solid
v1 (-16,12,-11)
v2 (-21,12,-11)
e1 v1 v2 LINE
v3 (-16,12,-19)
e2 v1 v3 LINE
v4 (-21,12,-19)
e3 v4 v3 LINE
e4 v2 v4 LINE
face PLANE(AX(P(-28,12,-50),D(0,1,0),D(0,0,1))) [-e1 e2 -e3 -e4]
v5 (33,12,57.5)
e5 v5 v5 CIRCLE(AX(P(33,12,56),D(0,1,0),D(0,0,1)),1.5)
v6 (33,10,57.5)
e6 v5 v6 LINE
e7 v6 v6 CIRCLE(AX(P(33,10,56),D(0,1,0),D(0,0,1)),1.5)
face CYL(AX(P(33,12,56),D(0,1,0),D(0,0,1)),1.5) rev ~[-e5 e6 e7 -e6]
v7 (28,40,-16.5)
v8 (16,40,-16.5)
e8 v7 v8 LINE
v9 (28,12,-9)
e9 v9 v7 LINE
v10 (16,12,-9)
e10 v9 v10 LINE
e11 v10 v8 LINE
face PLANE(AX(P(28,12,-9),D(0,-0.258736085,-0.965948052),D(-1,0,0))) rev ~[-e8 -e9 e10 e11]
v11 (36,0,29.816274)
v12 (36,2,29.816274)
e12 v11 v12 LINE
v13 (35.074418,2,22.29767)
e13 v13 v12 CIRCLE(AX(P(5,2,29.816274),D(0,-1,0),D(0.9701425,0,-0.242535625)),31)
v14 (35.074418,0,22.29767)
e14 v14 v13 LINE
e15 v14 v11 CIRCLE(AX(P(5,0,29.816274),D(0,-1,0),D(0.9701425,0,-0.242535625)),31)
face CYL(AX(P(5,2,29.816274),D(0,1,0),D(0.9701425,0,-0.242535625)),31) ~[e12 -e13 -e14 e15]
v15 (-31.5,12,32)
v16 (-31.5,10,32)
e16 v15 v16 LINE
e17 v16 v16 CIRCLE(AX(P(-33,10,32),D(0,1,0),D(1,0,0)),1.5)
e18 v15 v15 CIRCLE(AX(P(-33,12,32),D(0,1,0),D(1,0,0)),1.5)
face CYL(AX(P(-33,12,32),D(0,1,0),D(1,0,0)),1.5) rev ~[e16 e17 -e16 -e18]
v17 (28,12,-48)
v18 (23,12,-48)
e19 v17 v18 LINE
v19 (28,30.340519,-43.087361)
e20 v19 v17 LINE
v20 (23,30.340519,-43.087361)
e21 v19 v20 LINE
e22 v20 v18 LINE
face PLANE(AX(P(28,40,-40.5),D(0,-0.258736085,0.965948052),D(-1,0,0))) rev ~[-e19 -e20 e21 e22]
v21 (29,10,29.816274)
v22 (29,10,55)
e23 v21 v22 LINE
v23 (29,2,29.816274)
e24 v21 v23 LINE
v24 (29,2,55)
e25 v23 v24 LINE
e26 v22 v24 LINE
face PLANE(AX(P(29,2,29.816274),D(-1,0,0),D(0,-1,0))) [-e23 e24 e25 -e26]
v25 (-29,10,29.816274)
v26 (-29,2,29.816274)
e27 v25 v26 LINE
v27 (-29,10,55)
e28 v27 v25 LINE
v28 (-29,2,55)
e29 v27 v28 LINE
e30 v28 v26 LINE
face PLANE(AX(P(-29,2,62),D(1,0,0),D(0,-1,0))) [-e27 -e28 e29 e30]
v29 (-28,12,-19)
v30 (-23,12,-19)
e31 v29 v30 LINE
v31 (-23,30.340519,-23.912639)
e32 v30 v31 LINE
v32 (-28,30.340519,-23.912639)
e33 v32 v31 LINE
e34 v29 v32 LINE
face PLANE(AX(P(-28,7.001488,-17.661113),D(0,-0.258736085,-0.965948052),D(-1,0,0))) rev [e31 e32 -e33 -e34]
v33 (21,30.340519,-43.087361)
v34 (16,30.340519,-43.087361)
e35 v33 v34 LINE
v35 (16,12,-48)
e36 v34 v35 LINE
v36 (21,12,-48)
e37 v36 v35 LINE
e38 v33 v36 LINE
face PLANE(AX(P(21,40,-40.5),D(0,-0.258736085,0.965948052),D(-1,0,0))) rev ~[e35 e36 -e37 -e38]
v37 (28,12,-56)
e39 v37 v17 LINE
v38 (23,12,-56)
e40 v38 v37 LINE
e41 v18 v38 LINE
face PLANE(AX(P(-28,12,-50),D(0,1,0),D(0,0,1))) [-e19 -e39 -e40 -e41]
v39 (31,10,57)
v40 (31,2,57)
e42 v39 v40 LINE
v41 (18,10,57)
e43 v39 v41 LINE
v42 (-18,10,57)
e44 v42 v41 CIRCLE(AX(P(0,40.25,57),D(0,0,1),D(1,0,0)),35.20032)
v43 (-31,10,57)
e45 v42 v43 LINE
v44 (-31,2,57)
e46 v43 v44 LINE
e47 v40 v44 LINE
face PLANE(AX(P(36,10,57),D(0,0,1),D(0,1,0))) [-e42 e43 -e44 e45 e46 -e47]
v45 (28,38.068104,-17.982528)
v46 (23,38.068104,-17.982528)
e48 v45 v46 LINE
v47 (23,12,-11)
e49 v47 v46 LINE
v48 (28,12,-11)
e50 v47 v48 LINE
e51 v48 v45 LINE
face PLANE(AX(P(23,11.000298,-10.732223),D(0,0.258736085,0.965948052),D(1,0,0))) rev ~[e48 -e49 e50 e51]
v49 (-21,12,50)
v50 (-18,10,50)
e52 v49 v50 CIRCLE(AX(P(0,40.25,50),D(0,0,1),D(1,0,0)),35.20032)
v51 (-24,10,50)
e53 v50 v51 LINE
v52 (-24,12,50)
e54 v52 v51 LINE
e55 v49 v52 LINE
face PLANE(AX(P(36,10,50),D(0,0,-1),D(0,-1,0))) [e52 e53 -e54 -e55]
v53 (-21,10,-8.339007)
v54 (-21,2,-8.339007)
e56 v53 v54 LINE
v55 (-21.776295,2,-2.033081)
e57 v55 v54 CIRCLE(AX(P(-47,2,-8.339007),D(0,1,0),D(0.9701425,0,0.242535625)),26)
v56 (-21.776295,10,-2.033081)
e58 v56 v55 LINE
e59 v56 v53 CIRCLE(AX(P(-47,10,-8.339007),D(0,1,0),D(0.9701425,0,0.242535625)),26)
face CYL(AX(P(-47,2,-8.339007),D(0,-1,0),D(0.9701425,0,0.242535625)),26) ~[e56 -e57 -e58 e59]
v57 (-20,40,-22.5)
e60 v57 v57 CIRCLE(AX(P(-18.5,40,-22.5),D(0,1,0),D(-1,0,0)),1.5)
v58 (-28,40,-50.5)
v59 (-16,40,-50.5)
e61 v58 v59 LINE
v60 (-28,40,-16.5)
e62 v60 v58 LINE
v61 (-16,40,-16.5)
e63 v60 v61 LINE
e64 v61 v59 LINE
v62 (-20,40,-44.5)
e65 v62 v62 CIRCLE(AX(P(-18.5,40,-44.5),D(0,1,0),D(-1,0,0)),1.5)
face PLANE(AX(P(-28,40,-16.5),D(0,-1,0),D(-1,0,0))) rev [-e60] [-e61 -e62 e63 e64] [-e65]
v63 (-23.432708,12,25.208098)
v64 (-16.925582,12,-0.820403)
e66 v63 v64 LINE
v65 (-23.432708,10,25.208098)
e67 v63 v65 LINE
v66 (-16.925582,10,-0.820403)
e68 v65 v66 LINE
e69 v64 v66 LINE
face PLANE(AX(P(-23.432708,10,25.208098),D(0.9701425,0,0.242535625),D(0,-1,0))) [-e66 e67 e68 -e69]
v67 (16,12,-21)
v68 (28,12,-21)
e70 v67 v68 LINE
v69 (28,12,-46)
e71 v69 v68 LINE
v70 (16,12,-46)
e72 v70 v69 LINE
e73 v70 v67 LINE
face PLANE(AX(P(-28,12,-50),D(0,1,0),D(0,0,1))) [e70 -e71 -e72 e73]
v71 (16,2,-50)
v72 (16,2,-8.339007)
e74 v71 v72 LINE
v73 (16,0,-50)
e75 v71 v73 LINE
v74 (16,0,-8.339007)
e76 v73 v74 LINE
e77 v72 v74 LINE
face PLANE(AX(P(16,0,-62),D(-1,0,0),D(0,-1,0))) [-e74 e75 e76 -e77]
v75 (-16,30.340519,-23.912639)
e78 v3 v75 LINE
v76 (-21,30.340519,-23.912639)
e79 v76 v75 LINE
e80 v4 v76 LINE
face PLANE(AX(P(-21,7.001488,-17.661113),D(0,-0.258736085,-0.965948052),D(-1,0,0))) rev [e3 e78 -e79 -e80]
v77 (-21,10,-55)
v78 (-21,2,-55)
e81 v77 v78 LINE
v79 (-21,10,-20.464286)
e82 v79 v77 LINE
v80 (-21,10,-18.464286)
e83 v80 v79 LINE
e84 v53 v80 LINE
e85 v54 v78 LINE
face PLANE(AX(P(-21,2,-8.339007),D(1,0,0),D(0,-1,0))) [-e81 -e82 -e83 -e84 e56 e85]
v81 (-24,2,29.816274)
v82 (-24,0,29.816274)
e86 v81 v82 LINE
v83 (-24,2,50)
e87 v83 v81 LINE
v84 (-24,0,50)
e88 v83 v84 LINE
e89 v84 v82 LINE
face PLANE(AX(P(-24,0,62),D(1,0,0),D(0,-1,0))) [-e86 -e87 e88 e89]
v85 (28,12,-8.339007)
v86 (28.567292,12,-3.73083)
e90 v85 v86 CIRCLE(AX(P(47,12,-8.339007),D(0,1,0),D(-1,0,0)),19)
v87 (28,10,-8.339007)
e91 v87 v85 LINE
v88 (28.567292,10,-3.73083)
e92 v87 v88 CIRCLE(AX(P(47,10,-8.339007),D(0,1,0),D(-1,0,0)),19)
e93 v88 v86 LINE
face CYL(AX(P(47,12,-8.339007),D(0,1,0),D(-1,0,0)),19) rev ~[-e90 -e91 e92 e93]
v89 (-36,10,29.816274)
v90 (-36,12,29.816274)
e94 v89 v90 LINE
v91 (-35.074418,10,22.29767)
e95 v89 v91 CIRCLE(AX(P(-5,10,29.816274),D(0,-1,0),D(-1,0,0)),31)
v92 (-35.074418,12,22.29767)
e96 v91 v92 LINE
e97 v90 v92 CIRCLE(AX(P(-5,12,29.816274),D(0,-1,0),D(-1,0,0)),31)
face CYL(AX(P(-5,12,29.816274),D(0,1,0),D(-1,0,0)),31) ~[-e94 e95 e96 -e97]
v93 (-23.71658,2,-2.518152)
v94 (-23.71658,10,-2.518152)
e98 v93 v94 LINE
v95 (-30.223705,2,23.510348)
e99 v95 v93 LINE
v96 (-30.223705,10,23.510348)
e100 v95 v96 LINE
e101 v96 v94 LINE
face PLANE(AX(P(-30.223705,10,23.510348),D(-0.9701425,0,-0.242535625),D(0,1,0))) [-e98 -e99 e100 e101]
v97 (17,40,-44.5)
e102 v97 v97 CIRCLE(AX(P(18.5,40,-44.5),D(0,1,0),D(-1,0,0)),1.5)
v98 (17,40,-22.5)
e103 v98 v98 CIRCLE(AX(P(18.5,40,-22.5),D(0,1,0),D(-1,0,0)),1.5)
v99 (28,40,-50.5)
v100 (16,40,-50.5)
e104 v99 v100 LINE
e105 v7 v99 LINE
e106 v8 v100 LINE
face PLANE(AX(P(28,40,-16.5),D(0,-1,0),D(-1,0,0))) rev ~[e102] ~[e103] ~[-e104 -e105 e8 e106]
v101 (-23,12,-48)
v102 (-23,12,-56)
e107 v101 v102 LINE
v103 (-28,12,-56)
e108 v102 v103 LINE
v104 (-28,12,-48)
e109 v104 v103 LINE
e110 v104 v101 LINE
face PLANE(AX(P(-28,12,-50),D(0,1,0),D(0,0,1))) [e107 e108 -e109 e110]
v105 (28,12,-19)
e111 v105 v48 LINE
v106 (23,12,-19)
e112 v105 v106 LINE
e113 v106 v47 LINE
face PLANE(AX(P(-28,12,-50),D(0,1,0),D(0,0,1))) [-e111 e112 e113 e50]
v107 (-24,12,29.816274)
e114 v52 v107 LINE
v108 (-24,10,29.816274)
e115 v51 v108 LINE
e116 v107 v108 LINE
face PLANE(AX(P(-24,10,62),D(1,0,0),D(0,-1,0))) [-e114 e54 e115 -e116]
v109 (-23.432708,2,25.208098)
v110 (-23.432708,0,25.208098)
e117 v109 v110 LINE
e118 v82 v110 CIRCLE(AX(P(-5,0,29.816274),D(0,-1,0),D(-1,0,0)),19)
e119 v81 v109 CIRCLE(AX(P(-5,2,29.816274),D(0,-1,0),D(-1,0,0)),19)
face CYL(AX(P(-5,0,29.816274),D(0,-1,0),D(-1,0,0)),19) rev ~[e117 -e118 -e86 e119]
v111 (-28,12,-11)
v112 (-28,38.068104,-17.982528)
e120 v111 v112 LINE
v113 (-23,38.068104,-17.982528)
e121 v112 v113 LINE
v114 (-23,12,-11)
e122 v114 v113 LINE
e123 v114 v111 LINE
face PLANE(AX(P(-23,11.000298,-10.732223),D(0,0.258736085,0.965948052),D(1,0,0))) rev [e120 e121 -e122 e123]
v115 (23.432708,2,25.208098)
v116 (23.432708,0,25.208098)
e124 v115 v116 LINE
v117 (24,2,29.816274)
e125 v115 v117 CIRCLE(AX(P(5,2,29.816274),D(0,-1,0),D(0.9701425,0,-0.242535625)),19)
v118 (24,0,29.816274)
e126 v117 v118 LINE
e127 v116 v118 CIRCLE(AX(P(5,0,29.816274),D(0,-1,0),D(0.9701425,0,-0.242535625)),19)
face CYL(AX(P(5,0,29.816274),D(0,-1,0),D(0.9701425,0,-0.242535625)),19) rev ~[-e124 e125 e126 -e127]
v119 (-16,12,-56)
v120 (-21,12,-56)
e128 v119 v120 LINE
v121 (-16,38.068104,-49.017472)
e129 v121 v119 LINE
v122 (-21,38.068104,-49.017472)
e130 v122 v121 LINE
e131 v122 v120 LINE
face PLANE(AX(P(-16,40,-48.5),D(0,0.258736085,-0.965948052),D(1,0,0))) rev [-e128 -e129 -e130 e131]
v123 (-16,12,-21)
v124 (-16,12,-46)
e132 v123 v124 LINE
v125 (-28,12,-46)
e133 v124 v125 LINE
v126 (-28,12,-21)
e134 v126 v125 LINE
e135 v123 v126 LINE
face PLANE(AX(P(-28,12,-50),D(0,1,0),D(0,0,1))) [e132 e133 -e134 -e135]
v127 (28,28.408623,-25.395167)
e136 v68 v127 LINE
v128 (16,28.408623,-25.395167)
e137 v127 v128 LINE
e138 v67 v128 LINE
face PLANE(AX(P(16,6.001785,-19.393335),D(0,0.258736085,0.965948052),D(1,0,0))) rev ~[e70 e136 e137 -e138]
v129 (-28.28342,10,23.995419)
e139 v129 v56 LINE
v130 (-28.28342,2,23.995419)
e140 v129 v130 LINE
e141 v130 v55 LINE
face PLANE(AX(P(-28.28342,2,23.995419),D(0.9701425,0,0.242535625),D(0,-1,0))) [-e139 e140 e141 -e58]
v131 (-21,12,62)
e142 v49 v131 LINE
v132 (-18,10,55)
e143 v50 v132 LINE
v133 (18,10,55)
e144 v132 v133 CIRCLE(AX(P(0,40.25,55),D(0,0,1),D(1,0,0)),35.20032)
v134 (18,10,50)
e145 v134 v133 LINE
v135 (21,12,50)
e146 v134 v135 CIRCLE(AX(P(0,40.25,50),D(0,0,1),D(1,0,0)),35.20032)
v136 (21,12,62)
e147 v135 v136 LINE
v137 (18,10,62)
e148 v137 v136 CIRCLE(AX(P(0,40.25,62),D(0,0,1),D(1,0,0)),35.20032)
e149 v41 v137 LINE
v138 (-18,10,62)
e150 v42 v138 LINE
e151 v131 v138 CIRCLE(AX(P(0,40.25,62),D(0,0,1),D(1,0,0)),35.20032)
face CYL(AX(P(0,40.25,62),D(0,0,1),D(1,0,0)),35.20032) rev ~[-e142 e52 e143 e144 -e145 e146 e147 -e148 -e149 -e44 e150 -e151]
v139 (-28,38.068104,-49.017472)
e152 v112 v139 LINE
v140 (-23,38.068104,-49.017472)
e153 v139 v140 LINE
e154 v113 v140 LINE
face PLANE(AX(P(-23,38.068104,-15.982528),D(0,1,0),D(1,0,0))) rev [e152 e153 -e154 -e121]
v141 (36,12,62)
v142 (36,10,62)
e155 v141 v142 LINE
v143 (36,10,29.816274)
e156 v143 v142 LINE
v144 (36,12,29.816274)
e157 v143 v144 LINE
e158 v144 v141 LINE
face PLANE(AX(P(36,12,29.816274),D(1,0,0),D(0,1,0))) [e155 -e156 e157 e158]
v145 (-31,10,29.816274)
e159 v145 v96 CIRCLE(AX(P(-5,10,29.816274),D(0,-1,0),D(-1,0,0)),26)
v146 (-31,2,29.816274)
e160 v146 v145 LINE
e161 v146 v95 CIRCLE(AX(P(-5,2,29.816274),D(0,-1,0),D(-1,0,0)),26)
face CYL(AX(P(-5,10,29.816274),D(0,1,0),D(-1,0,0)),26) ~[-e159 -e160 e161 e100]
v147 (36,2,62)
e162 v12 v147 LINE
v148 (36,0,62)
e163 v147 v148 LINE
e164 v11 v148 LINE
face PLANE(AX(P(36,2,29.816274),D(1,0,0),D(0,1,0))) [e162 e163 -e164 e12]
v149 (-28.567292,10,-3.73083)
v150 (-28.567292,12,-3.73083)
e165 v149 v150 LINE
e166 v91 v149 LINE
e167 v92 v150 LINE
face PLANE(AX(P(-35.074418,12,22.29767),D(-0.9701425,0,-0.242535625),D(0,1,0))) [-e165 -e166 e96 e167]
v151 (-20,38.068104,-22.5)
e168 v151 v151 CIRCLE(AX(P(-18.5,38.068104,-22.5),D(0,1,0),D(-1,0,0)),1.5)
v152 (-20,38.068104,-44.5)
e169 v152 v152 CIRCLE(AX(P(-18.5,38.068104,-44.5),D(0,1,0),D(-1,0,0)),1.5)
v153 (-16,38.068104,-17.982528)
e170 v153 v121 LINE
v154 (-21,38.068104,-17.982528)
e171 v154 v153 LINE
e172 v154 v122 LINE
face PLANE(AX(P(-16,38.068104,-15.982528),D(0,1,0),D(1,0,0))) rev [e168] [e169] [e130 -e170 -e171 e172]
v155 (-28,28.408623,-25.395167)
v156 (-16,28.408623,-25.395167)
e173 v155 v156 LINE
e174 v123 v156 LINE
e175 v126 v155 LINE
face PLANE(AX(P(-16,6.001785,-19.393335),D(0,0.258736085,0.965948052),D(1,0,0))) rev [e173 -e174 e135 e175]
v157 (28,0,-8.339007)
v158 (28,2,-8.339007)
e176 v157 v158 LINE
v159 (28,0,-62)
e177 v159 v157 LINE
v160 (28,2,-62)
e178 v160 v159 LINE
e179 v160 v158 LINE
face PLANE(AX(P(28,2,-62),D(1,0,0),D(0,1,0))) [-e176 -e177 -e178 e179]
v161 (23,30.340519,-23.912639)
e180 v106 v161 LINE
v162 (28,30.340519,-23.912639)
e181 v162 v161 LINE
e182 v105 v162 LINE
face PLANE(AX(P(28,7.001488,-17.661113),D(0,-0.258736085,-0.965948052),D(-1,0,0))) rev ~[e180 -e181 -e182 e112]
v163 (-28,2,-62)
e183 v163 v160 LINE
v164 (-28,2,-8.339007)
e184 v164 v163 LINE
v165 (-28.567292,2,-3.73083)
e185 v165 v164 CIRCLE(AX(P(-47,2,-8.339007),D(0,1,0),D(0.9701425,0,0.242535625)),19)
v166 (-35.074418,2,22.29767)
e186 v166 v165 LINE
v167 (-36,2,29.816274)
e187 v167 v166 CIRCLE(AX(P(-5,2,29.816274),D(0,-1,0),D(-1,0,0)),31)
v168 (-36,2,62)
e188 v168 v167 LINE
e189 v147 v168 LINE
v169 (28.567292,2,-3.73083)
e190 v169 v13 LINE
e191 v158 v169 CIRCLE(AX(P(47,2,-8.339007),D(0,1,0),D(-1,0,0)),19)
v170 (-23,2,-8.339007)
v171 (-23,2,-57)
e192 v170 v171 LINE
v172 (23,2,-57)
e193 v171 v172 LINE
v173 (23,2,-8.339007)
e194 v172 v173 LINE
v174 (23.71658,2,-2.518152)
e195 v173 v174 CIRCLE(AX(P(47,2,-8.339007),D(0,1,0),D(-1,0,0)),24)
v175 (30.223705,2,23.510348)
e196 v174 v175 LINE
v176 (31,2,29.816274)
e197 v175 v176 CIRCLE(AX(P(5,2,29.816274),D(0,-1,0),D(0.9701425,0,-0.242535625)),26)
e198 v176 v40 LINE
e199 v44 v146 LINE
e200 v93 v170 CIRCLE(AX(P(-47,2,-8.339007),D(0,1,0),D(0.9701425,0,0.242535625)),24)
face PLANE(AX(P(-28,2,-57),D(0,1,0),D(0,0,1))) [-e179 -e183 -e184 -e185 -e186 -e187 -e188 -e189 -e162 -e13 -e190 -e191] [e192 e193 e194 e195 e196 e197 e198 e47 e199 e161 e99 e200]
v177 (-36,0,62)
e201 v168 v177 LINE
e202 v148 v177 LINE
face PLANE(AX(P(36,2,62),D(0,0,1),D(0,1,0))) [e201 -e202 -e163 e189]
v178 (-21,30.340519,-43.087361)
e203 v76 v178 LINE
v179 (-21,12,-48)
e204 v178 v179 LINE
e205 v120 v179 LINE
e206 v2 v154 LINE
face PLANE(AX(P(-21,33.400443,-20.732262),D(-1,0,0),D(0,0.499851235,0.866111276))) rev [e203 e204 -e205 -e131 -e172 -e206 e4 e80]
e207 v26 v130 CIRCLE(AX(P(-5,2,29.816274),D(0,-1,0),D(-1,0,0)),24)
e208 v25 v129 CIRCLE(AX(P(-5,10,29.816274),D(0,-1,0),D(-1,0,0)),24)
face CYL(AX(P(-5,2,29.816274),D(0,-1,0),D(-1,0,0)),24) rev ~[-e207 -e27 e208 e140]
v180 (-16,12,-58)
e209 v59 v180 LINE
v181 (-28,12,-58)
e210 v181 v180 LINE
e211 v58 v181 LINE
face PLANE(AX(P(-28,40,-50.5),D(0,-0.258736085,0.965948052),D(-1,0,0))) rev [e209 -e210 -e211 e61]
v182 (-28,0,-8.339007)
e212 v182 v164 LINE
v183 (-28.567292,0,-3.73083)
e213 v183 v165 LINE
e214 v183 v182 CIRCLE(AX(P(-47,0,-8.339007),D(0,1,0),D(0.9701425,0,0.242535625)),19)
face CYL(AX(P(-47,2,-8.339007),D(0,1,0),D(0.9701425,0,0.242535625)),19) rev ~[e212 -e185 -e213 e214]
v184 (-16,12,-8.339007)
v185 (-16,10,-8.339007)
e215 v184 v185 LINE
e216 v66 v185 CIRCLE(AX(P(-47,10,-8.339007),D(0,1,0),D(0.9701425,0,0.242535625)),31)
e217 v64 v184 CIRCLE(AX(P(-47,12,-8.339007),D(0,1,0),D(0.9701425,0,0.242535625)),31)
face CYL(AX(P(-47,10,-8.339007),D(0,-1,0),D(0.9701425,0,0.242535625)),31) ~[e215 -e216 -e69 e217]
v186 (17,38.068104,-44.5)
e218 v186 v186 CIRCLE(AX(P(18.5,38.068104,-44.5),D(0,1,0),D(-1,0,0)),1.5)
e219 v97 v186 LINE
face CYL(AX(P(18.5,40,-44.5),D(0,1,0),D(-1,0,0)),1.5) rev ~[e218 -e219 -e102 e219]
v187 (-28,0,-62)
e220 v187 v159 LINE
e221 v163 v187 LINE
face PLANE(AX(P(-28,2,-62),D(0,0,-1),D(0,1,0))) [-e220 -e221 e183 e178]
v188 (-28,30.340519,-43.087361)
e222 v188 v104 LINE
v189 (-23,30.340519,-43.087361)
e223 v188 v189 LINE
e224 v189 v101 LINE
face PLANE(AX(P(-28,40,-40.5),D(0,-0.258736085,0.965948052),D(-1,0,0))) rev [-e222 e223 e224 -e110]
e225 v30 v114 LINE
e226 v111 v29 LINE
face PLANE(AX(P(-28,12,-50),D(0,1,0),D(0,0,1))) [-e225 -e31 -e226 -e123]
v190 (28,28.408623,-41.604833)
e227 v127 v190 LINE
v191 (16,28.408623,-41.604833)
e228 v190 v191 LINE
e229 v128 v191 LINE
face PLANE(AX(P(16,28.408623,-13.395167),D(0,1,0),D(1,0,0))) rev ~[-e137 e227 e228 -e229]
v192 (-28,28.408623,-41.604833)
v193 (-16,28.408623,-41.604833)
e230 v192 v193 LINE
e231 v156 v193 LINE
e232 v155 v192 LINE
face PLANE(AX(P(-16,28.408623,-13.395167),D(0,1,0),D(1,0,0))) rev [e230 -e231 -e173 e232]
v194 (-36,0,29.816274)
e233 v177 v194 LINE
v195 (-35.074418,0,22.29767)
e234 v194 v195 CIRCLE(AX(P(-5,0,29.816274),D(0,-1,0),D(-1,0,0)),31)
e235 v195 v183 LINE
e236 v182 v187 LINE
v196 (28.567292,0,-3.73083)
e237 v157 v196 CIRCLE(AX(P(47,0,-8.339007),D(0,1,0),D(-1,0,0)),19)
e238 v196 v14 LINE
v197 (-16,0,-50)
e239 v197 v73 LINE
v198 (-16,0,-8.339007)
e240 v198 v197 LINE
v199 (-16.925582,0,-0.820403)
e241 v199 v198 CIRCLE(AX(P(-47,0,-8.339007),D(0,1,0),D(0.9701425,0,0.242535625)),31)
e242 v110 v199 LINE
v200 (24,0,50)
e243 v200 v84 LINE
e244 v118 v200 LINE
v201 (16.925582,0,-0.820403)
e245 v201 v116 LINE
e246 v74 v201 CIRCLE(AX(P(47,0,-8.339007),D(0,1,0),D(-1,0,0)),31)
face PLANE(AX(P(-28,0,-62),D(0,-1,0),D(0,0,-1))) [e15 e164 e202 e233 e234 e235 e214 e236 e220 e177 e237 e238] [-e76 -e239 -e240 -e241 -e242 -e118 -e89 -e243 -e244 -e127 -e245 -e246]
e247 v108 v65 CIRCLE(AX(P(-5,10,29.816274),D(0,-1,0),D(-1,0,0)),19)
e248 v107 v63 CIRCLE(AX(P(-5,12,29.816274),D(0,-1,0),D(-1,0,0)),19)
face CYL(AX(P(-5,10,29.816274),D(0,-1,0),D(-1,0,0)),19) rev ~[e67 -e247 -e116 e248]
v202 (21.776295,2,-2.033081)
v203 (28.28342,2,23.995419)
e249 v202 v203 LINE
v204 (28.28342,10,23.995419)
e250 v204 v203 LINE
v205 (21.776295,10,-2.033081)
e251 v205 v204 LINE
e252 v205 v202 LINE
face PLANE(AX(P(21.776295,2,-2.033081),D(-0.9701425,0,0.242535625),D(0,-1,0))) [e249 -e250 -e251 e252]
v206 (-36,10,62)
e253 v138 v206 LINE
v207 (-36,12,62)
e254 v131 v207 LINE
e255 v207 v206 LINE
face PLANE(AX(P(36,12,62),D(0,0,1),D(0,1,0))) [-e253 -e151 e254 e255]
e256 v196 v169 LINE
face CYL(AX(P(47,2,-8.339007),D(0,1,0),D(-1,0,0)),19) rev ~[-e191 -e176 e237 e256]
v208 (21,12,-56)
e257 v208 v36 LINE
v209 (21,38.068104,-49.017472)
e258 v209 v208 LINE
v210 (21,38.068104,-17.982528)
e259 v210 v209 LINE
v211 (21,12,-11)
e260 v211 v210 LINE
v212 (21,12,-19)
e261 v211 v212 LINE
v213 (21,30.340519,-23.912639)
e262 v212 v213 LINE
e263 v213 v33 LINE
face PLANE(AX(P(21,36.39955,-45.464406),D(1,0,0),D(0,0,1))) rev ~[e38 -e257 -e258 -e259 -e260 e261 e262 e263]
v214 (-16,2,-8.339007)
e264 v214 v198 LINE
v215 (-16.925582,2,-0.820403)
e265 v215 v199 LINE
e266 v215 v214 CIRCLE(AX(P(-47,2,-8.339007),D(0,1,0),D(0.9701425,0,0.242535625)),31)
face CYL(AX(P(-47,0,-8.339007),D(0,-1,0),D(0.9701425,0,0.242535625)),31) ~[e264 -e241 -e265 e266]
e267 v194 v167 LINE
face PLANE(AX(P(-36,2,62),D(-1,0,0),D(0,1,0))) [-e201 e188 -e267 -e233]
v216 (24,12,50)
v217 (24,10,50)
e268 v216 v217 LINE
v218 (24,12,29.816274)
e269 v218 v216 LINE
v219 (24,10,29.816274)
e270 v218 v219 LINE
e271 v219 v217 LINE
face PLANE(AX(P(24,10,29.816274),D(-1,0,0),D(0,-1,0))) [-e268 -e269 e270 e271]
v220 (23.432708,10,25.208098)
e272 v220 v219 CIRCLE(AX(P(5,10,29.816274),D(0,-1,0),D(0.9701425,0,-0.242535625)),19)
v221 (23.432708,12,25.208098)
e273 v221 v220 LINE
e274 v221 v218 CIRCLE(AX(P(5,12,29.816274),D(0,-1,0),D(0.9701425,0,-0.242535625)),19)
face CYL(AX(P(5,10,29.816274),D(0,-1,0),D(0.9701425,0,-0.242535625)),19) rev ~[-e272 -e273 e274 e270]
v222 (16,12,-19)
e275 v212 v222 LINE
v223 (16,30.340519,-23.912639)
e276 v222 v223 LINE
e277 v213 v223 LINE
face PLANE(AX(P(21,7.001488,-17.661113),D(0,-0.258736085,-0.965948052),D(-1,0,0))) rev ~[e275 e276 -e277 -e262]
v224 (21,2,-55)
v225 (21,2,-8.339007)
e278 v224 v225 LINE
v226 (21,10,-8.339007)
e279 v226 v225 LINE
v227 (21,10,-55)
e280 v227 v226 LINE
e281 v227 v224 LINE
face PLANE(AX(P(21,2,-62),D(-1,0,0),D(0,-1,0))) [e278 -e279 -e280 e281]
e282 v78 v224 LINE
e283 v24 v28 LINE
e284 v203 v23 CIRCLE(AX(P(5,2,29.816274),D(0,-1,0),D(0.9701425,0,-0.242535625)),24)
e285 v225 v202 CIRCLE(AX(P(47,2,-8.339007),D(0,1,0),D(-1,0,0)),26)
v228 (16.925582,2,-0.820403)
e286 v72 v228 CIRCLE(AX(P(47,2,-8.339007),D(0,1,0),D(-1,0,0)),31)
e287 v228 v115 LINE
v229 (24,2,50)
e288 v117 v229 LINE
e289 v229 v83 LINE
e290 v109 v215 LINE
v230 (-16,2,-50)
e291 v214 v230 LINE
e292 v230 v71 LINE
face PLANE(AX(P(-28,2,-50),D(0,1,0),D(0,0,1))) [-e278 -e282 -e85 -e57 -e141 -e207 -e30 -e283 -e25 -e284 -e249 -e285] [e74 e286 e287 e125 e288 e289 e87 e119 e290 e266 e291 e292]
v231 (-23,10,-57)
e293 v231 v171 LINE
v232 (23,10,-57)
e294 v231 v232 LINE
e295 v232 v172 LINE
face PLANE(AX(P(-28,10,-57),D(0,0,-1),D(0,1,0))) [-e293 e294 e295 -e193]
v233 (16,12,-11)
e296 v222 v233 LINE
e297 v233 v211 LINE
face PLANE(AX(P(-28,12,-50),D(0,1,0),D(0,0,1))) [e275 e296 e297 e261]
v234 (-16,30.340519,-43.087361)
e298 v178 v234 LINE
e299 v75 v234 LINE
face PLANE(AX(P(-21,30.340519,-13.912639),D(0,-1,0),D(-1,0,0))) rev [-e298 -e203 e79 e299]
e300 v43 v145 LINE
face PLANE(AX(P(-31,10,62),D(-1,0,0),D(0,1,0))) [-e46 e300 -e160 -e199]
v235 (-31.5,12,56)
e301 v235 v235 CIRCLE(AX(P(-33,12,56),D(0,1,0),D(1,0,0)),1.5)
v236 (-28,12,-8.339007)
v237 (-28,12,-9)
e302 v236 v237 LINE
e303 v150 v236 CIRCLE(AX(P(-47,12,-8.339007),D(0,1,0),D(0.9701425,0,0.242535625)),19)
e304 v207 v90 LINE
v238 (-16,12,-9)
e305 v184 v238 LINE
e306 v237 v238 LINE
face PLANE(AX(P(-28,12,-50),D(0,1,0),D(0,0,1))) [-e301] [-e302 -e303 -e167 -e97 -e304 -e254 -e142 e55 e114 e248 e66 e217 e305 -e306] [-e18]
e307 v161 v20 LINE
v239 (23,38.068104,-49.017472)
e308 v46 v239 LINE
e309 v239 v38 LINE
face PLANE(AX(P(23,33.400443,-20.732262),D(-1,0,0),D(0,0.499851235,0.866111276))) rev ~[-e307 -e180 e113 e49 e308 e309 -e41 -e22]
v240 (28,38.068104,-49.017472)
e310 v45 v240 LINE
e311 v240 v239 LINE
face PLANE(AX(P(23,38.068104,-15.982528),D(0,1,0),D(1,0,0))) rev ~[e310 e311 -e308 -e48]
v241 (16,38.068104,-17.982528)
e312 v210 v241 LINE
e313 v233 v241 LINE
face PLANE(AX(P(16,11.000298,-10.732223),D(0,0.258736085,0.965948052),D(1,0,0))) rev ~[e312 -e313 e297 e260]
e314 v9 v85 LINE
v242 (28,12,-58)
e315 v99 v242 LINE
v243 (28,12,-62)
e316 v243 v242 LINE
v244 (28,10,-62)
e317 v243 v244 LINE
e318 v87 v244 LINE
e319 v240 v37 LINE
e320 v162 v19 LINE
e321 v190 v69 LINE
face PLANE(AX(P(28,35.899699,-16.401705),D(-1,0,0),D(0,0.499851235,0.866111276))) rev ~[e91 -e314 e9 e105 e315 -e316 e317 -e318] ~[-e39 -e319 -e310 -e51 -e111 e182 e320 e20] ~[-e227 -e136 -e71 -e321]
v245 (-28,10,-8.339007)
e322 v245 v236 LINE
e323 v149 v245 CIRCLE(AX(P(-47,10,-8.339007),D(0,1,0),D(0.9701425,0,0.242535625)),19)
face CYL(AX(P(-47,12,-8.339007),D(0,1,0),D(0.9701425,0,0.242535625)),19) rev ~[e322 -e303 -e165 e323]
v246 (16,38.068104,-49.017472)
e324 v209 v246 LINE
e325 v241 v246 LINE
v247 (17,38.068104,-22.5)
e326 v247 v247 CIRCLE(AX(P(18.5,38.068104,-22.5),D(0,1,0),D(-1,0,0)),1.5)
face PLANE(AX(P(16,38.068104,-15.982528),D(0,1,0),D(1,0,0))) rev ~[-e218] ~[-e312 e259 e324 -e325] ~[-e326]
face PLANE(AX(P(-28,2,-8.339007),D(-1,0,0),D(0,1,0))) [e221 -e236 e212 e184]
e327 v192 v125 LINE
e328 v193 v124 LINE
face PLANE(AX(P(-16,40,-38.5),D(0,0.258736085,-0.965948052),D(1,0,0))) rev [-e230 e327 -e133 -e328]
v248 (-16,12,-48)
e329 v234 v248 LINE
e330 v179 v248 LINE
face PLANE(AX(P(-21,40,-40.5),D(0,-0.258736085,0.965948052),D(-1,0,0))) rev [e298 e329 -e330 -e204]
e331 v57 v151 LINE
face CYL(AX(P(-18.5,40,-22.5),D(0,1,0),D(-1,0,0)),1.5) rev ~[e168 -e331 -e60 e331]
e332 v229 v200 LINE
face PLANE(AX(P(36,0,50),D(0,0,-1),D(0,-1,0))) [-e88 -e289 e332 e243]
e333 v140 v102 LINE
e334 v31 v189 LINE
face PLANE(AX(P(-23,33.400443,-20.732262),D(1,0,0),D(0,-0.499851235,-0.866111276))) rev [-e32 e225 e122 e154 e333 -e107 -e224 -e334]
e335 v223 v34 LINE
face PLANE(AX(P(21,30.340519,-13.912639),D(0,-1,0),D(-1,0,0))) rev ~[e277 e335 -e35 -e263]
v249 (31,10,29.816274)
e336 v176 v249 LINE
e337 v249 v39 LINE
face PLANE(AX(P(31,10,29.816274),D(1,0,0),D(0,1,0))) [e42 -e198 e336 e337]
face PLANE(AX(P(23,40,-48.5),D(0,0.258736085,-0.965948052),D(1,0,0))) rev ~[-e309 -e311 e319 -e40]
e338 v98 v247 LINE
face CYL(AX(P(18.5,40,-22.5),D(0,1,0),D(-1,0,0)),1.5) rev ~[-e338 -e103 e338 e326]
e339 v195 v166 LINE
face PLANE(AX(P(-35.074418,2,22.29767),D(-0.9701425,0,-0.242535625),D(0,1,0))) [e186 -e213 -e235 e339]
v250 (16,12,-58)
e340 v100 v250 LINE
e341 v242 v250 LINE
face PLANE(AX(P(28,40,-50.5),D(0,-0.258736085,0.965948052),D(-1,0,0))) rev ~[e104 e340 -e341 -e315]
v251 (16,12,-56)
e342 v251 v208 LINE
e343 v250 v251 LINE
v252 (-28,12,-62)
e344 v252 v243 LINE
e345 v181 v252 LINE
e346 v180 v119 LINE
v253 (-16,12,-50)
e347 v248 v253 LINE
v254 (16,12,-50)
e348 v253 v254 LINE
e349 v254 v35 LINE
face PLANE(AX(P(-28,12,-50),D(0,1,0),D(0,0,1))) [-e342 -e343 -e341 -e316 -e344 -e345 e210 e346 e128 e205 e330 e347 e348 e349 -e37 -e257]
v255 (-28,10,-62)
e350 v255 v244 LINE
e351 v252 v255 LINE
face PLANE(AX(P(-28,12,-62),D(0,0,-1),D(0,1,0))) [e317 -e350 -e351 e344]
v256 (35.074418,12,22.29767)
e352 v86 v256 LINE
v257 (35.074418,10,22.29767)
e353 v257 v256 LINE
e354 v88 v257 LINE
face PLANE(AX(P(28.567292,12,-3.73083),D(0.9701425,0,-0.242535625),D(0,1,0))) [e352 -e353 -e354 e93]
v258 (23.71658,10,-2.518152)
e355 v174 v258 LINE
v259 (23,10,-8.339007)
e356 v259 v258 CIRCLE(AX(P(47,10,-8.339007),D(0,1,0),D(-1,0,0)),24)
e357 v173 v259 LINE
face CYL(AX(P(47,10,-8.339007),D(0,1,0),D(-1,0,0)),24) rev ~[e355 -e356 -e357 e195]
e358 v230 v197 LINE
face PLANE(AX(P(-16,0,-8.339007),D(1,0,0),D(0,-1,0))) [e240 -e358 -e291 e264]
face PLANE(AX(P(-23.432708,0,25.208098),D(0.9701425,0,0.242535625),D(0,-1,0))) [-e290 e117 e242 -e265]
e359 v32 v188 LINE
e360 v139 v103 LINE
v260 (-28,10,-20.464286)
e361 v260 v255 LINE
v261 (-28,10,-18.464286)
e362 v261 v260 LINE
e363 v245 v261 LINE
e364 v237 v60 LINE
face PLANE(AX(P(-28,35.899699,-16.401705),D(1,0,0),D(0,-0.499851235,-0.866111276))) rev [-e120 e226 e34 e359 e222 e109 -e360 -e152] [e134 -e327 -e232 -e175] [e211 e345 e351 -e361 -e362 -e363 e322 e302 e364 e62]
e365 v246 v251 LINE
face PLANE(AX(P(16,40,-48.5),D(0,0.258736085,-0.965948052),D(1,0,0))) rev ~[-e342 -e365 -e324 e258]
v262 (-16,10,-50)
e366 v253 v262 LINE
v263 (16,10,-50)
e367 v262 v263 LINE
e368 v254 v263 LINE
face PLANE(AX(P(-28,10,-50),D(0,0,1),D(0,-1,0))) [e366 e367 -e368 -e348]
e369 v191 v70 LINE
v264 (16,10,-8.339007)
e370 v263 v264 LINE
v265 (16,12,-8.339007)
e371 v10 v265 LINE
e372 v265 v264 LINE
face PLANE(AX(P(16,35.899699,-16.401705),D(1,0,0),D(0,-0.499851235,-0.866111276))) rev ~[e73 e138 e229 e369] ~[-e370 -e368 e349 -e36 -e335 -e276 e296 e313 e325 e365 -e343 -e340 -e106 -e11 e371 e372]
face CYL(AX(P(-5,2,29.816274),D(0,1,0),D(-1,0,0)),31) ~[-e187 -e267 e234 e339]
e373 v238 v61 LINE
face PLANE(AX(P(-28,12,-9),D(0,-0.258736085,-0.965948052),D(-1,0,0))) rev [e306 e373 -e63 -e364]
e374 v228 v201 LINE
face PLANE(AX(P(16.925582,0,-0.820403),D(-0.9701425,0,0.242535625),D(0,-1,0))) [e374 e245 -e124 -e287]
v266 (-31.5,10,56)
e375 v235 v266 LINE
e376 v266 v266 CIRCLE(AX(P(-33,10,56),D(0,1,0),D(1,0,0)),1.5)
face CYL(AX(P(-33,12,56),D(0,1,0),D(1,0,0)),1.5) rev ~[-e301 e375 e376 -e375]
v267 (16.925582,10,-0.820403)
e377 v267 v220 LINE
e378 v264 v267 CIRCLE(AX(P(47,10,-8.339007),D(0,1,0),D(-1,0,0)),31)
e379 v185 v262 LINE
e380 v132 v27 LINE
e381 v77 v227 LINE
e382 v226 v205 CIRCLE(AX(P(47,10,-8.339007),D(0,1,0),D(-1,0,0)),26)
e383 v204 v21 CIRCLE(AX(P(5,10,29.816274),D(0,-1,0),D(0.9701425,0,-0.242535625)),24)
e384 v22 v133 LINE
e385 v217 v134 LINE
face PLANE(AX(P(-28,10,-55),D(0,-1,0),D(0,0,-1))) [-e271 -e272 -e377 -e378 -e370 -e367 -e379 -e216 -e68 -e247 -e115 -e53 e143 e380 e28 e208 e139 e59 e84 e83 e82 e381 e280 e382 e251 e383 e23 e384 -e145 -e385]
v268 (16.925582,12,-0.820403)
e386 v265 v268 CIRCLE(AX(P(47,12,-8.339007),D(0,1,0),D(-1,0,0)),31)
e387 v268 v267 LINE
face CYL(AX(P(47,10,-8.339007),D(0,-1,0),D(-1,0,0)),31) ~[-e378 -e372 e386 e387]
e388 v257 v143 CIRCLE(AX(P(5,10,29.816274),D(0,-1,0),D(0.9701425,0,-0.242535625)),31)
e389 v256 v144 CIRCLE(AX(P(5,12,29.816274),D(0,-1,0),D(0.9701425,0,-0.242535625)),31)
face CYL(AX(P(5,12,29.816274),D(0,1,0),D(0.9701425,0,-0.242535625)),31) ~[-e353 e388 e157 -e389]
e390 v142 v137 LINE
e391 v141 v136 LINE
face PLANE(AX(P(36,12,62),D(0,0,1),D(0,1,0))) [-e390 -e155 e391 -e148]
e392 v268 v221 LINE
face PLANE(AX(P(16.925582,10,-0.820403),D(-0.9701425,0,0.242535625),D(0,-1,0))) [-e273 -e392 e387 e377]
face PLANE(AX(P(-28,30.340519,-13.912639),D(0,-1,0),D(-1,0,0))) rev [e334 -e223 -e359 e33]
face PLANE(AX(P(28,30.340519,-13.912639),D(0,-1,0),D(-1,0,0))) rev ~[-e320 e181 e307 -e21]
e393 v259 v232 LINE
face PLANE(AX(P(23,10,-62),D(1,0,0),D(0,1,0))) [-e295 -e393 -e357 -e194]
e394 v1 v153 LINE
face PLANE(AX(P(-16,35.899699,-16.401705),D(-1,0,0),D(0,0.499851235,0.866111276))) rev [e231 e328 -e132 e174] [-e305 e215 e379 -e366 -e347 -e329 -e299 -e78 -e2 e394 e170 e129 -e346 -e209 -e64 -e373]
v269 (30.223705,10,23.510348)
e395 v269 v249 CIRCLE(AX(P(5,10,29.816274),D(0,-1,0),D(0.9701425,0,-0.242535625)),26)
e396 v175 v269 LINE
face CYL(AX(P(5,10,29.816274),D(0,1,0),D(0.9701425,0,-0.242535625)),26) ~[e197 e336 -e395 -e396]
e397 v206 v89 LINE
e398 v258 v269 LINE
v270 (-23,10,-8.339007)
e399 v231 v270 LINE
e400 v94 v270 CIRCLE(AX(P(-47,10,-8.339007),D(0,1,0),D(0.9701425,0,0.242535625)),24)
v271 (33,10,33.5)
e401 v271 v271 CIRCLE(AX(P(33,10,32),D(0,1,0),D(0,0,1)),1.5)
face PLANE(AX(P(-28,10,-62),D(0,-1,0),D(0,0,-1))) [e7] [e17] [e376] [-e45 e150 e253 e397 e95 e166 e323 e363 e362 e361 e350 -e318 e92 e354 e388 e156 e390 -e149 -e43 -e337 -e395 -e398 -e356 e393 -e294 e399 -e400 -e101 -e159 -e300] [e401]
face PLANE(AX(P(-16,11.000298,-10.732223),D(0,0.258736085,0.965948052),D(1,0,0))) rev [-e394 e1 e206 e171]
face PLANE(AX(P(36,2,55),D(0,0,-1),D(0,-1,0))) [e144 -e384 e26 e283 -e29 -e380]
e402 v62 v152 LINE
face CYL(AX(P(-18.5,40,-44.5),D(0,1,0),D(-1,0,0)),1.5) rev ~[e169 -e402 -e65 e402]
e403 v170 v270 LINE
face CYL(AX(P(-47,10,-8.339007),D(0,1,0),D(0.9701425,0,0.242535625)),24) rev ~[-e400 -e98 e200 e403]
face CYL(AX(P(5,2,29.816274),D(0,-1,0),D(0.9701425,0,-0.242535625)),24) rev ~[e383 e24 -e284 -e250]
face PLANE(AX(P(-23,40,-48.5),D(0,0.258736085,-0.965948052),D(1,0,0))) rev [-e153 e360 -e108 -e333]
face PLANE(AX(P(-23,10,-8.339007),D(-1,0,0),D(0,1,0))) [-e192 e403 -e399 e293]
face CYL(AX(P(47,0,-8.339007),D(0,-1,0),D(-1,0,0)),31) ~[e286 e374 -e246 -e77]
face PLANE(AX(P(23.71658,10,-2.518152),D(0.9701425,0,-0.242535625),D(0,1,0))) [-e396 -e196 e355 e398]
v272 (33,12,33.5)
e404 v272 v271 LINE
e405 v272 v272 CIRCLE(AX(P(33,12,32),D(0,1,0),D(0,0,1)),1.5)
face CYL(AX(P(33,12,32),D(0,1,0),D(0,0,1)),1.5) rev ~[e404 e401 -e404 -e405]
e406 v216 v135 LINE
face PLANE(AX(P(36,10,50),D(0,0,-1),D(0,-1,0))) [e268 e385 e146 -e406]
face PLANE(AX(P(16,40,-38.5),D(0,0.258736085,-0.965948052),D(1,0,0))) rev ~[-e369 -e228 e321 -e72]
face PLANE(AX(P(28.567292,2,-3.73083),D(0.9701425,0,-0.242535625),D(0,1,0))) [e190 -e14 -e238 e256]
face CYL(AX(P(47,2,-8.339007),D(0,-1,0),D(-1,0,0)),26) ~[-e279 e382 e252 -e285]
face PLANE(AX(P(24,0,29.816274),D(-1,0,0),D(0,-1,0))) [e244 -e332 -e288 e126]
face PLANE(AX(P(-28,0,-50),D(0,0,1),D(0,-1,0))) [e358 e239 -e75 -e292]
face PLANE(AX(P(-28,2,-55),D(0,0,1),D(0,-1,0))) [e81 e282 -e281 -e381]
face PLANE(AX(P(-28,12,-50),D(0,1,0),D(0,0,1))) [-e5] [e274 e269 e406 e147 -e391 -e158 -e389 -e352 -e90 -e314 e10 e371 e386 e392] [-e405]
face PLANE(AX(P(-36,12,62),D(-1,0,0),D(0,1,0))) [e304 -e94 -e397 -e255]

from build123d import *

# Parameters (mm, degrees)
CUT_EXTRUDE1_START   = -1
CUT_EXTRUDE1_DEPTH   = 5
MIRROR2_START        = -1
MIRROR2_COPY_1_DEPTH = 5
CUT_EXTRUDE2_REACH   = 84.098
SKETCH6_R            = 1.5
CUT_EXTRUDE3_REACH   = 78.968
SKETCH7_R            = 1.5
SKETCH8_R            = 35.200319601
CUT_EXTRUDE4_DEPTH   = 12


with BuildPart() as part:
    # Sweep1: sweep along a path in Sketch1
    with BuildLine(Plane(origin=(0, 0, 0), x_dir=(1, 0, 0), z_dir=(0, 1, 0))) as sweep1_path:
        Line((-28, 62), (28, 62))
        Line((28, 62), (28, 8.339006887))
        ThreePointArc((28, 8.339006887), (28.142356423, 6.017524877), (28.567292497, 3.730830011))
        Line((28.567292497, 3.730830011), (35.074417505, -22.297670018))
        ThreePointArc((35.074417505, -22.297670018), (35.767734257, -26.02859322), (36, -29.816274394))
        Line((36, -29.816274394), (36, -62))
        Line((36, -62), (-36, -62))
        Line((-36, -62), (-36, -29.816274394))
        ThreePointArc((-36, -29.816274394), (-35.767734257, -26.02859322), (-35.074417505, -22.297670018))
        Line((-35.074417505, -22.297670018), (-28.567292497, 3.730830011))
        ThreePointArc((-28.567292497, 3.730830011), (-28.142356423, 6.017524877), (-28, 8.339006887))
        Line((-28, 8.339006887), (-28, 62))
    # Sketch2 → Sweep1 (sweep)
    with BuildSketch(Plane.XY.offset(-62)):
        Polygon((28, 0), (16, 0), (16, 2), (21, 2), (21, 10), (16, 10), (16, 12), (28, 12), (28, 10), (23, 10), (23, 2), (28, 2), align=None)
    sweep(path=sweep1_path.line, transition=Transition.RIGHT)

    # Sweep2: sweep along a path in Sketch3
    with BuildLine(Plane(origin=(28, 0, 0), x_dir=(0, 0, -1), z_dir=(1, 0, 0))) as sweep2_path:
        Line((9, 12), (16.5, 40))
        Line((16.5, 40), (50.5, 40))
        Line((50.5, 40), (58, 12))
    # Sketch4 → Sweep2 (sweep)
    with BuildSketch(Plane(origin=(0, 12, 0), x_dir=(1, 0, 0), z_dir=(0, 1, 0))):
        Polygon((28, 58), (16, 58), (16, 56), (21, 56), (21, 48), (16, 48), (16, 46), (28, 46), (28, 48), (23, 48), (23, 56), (28, 56), align=None)
    sweep2 = sweep(path=sweep2_path.line, transition=Transition.RIGHT)

    # Sketch5 → Cut-Extrude1 (cut)
    with BuildSketch(Plane(origin=(22, 0, 0), x_dir=(0, 0, -1), z_dir=(1, 0, 0)).offset(CUT_EXTRUDE1_START)):
        Polygon((17.661112764, 7.001487652), (18.464285714, 10), (20.464285714, 10), (19.393335317, 6.001785183), align=None)
    cut_extrude1 = extrude(amount=-CUT_EXTRUDE1_DEPTH, mode=Mode.SUBTRACT)

    # Mirror1: Cut-Extrude1 across plane
    add(cut_extrude1.mirror(Plane(origin=(22, 0, 0), x_dir=(0, 0, 1), z_dir=(1, 0, 0))), mode=Mode.SUBTRACT)

    # Mirror2: Sweep2, Cut-Extrude1 across plane
    add(sweep2.mirror(Plane(origin=(0, 0, 0), x_dir=(0, 0, 1), z_dir=(1, 0, 0))))
    add(cut_extrude1.mirror(Plane(origin=(0, 0, 0), x_dir=(0, 0, 1), z_dir=(1, 0, 0))), mode=Mode.SUBTRACT)

    # Mirror2 copy 1 sketch → Mirror2 copy 1 (cut)
    with BuildSketch(Plane(origin=(-22, 0, 0), x_dir=(0, 0, -1), z_dir=(1, 0, 0)).offset(MIRROR2_START)):
        Polygon((17.661112764, 7.001487652), (18.464285714, 10), (20.464285714, 10), (19.393335317, 6.001785183), align=None)
    extrude(amount=-MIRROR2_COPY_1_DEPTH, mode=Mode.SUBTRACT)

    # Sketch6 → Cut-Extrude2 (cut, up to next)
    with BuildSketch(Plane(origin=(0, 40, 0), x_dir=(1, 0, 0), z_dir=(0, 1, 0)), mode=Mode.PRIVATE) as cut_extrude2_sk1:
        with Locations(Location((18.5, 44.5, 0), (0, 0, 180))):
            Circle(SKETCH6_R)
    cut_extrude2_tool1 = extrude(cut_extrude2_sk1.sketch, amount=-CUT_EXTRUDE2_REACH, mode=Mode.PRIVATE) & part.part
    # Sketch6 → Cut-Extrude2 (cut, up to next)
    with BuildSketch(Plane(origin=(0, 40, 0), x_dir=(1, 0, 0), z_dir=(0, 1, 0)), mode=Mode.PRIVATE) as cut_extrude2_sk2:
        with Locations(Location((18.5, 22.5, 0), (0, 0, 180))):
            Circle(SKETCH6_R)
    cut_extrude2_tool2 = extrude(cut_extrude2_sk2.sketch, amount=-CUT_EXTRUDE2_REACH, mode=Mode.PRIVATE) & part.part
    # Sketch6 → Cut-Extrude2 (cut, up to next)
    with BuildSketch(Plane(origin=(0, 40, 0), x_dir=(1, 0, 0), z_dir=(0, 1, 0)), mode=Mode.PRIVATE) as cut_extrude2_sk3:
        with Locations(Location((-18.5, 44.5, 0), (0, 0, 180))):
            Circle(SKETCH6_R)
    cut_extrude2_tool3 = extrude(cut_extrude2_sk3.sketch, amount=-CUT_EXTRUDE2_REACH, mode=Mode.PRIVATE) & part.part
    # Sketch6 → Cut-Extrude2 (cut, up to next)
    with BuildSketch(Plane(origin=(0, 40, 0), x_dir=(1, 0, 0), z_dir=(0, 1, 0)), mode=Mode.PRIVATE) as cut_extrude2_sk4:
        with Locations(Location((-18.5, 22.5, 0), (0, 0, 180))):
            Circle(SKETCH6_R)
    cut_extrude2_tool4 = extrude(cut_extrude2_sk4.sketch, amount=-CUT_EXTRUDE2_REACH, mode=Mode.PRIVATE) & part.part
    add(cut_extrude2_tool1.solids().sort_by_distance((18.5, 40, -44.5))[0], mode=Mode.SUBTRACT)
    add(cut_extrude2_tool2.solids().sort_by_distance((18.5, 40, -22.5))[0], mode=Mode.SUBTRACT)
    add(cut_extrude2_tool3.solids().sort_by_distance((-18.5, 40, -44.5))[0], mode=Mode.SUBTRACT)
    add(cut_extrude2_tool4.solids().sort_by_distance((-18.5, 40, -22.5))[0], mode=Mode.SUBTRACT)

    # Sketch7 → Cut-Extrude3 (cut, up to next)
    with BuildSketch(Plane(origin=(0, 12, 0), x_dir=(1, 0, 0), z_dir=(0, 1, 0)), mode=Mode.PRIVATE) as cut_extrude3_sk1:
        with Locations(Location((33, -32, 0), (0, 0, 270))):
            Circle(SKETCH7_R)
    cut_extrude3_tool1 = extrude(cut_extrude3_sk1.sketch, amount=-CUT_EXTRUDE3_REACH, mode=Mode.PRIVATE) & part.part
    # Sketch7 → Cut-Extrude3 (cut, up to next)
    with BuildSketch(Plane(origin=(0, 12, 0), x_dir=(1, 0, 0), z_dir=(0, 1, 0)), mode=Mode.PRIVATE) as cut_extrude3_sk2:
        with Locations(Location((33, -56, 0), (0, 0, 270))):
            Circle(SKETCH7_R)
    cut_extrude3_tool2 = extrude(cut_extrude3_sk2.sketch, amount=-CUT_EXTRUDE3_REACH, mode=Mode.PRIVATE) & part.part
    # Sketch7 → Cut-Extrude3 (cut, up to next)
    with BuildSketch(Plane(origin=(0, 12, 0), x_dir=(1, 0, 0), z_dir=(0, 1, 0)), mode=Mode.PRIVATE) as cut_extrude3_sk3:
        with Locations((-33, -56)):
            Circle(SKETCH7_R)
    cut_extrude3_tool3 = extrude(cut_extrude3_sk3.sketch, amount=-CUT_EXTRUDE3_REACH, mode=Mode.PRIVATE) & part.part
    # Sketch7 → Cut-Extrude3 (cut, up to next)
    with BuildSketch(Plane(origin=(0, 12, 0), x_dir=(1, 0, 0), z_dir=(0, 1, 0)), mode=Mode.PRIVATE) as cut_extrude3_sk4:
        with Locations((-33, -32)):
            Circle(SKETCH7_R)
    cut_extrude3_tool4 = extrude(cut_extrude3_sk4.sketch, amount=-CUT_EXTRUDE3_REACH, mode=Mode.PRIVATE) & part.part
    add(cut_extrude3_tool1.solids().sort_by_distance((33, 12, 32))[0], mode=Mode.SUBTRACT)
    add(cut_extrude3_tool2.solids().sort_by_distance((33, 12, 56))[0], mode=Mode.SUBTRACT)
    add(cut_extrude3_tool3.solids().sort_by_distance((-33, 12, 56))[0], mode=Mode.SUBTRACT)
    add(cut_extrude3_tool4.solids().sort_by_distance((-33, 12, 32))[0], mode=Mode.SUBTRACT)

    # Sketch8 → Cut-Extrude4 (cut)
    with BuildSketch(Plane.XY.offset(62)):
        with Locations((0, 40.25)):
            Circle(SKETCH8_R)
    extrude(amount=-CUT_EXTRUDE4_DEPTH, mode=Mode.SUBTRACT)


solid = part.part
